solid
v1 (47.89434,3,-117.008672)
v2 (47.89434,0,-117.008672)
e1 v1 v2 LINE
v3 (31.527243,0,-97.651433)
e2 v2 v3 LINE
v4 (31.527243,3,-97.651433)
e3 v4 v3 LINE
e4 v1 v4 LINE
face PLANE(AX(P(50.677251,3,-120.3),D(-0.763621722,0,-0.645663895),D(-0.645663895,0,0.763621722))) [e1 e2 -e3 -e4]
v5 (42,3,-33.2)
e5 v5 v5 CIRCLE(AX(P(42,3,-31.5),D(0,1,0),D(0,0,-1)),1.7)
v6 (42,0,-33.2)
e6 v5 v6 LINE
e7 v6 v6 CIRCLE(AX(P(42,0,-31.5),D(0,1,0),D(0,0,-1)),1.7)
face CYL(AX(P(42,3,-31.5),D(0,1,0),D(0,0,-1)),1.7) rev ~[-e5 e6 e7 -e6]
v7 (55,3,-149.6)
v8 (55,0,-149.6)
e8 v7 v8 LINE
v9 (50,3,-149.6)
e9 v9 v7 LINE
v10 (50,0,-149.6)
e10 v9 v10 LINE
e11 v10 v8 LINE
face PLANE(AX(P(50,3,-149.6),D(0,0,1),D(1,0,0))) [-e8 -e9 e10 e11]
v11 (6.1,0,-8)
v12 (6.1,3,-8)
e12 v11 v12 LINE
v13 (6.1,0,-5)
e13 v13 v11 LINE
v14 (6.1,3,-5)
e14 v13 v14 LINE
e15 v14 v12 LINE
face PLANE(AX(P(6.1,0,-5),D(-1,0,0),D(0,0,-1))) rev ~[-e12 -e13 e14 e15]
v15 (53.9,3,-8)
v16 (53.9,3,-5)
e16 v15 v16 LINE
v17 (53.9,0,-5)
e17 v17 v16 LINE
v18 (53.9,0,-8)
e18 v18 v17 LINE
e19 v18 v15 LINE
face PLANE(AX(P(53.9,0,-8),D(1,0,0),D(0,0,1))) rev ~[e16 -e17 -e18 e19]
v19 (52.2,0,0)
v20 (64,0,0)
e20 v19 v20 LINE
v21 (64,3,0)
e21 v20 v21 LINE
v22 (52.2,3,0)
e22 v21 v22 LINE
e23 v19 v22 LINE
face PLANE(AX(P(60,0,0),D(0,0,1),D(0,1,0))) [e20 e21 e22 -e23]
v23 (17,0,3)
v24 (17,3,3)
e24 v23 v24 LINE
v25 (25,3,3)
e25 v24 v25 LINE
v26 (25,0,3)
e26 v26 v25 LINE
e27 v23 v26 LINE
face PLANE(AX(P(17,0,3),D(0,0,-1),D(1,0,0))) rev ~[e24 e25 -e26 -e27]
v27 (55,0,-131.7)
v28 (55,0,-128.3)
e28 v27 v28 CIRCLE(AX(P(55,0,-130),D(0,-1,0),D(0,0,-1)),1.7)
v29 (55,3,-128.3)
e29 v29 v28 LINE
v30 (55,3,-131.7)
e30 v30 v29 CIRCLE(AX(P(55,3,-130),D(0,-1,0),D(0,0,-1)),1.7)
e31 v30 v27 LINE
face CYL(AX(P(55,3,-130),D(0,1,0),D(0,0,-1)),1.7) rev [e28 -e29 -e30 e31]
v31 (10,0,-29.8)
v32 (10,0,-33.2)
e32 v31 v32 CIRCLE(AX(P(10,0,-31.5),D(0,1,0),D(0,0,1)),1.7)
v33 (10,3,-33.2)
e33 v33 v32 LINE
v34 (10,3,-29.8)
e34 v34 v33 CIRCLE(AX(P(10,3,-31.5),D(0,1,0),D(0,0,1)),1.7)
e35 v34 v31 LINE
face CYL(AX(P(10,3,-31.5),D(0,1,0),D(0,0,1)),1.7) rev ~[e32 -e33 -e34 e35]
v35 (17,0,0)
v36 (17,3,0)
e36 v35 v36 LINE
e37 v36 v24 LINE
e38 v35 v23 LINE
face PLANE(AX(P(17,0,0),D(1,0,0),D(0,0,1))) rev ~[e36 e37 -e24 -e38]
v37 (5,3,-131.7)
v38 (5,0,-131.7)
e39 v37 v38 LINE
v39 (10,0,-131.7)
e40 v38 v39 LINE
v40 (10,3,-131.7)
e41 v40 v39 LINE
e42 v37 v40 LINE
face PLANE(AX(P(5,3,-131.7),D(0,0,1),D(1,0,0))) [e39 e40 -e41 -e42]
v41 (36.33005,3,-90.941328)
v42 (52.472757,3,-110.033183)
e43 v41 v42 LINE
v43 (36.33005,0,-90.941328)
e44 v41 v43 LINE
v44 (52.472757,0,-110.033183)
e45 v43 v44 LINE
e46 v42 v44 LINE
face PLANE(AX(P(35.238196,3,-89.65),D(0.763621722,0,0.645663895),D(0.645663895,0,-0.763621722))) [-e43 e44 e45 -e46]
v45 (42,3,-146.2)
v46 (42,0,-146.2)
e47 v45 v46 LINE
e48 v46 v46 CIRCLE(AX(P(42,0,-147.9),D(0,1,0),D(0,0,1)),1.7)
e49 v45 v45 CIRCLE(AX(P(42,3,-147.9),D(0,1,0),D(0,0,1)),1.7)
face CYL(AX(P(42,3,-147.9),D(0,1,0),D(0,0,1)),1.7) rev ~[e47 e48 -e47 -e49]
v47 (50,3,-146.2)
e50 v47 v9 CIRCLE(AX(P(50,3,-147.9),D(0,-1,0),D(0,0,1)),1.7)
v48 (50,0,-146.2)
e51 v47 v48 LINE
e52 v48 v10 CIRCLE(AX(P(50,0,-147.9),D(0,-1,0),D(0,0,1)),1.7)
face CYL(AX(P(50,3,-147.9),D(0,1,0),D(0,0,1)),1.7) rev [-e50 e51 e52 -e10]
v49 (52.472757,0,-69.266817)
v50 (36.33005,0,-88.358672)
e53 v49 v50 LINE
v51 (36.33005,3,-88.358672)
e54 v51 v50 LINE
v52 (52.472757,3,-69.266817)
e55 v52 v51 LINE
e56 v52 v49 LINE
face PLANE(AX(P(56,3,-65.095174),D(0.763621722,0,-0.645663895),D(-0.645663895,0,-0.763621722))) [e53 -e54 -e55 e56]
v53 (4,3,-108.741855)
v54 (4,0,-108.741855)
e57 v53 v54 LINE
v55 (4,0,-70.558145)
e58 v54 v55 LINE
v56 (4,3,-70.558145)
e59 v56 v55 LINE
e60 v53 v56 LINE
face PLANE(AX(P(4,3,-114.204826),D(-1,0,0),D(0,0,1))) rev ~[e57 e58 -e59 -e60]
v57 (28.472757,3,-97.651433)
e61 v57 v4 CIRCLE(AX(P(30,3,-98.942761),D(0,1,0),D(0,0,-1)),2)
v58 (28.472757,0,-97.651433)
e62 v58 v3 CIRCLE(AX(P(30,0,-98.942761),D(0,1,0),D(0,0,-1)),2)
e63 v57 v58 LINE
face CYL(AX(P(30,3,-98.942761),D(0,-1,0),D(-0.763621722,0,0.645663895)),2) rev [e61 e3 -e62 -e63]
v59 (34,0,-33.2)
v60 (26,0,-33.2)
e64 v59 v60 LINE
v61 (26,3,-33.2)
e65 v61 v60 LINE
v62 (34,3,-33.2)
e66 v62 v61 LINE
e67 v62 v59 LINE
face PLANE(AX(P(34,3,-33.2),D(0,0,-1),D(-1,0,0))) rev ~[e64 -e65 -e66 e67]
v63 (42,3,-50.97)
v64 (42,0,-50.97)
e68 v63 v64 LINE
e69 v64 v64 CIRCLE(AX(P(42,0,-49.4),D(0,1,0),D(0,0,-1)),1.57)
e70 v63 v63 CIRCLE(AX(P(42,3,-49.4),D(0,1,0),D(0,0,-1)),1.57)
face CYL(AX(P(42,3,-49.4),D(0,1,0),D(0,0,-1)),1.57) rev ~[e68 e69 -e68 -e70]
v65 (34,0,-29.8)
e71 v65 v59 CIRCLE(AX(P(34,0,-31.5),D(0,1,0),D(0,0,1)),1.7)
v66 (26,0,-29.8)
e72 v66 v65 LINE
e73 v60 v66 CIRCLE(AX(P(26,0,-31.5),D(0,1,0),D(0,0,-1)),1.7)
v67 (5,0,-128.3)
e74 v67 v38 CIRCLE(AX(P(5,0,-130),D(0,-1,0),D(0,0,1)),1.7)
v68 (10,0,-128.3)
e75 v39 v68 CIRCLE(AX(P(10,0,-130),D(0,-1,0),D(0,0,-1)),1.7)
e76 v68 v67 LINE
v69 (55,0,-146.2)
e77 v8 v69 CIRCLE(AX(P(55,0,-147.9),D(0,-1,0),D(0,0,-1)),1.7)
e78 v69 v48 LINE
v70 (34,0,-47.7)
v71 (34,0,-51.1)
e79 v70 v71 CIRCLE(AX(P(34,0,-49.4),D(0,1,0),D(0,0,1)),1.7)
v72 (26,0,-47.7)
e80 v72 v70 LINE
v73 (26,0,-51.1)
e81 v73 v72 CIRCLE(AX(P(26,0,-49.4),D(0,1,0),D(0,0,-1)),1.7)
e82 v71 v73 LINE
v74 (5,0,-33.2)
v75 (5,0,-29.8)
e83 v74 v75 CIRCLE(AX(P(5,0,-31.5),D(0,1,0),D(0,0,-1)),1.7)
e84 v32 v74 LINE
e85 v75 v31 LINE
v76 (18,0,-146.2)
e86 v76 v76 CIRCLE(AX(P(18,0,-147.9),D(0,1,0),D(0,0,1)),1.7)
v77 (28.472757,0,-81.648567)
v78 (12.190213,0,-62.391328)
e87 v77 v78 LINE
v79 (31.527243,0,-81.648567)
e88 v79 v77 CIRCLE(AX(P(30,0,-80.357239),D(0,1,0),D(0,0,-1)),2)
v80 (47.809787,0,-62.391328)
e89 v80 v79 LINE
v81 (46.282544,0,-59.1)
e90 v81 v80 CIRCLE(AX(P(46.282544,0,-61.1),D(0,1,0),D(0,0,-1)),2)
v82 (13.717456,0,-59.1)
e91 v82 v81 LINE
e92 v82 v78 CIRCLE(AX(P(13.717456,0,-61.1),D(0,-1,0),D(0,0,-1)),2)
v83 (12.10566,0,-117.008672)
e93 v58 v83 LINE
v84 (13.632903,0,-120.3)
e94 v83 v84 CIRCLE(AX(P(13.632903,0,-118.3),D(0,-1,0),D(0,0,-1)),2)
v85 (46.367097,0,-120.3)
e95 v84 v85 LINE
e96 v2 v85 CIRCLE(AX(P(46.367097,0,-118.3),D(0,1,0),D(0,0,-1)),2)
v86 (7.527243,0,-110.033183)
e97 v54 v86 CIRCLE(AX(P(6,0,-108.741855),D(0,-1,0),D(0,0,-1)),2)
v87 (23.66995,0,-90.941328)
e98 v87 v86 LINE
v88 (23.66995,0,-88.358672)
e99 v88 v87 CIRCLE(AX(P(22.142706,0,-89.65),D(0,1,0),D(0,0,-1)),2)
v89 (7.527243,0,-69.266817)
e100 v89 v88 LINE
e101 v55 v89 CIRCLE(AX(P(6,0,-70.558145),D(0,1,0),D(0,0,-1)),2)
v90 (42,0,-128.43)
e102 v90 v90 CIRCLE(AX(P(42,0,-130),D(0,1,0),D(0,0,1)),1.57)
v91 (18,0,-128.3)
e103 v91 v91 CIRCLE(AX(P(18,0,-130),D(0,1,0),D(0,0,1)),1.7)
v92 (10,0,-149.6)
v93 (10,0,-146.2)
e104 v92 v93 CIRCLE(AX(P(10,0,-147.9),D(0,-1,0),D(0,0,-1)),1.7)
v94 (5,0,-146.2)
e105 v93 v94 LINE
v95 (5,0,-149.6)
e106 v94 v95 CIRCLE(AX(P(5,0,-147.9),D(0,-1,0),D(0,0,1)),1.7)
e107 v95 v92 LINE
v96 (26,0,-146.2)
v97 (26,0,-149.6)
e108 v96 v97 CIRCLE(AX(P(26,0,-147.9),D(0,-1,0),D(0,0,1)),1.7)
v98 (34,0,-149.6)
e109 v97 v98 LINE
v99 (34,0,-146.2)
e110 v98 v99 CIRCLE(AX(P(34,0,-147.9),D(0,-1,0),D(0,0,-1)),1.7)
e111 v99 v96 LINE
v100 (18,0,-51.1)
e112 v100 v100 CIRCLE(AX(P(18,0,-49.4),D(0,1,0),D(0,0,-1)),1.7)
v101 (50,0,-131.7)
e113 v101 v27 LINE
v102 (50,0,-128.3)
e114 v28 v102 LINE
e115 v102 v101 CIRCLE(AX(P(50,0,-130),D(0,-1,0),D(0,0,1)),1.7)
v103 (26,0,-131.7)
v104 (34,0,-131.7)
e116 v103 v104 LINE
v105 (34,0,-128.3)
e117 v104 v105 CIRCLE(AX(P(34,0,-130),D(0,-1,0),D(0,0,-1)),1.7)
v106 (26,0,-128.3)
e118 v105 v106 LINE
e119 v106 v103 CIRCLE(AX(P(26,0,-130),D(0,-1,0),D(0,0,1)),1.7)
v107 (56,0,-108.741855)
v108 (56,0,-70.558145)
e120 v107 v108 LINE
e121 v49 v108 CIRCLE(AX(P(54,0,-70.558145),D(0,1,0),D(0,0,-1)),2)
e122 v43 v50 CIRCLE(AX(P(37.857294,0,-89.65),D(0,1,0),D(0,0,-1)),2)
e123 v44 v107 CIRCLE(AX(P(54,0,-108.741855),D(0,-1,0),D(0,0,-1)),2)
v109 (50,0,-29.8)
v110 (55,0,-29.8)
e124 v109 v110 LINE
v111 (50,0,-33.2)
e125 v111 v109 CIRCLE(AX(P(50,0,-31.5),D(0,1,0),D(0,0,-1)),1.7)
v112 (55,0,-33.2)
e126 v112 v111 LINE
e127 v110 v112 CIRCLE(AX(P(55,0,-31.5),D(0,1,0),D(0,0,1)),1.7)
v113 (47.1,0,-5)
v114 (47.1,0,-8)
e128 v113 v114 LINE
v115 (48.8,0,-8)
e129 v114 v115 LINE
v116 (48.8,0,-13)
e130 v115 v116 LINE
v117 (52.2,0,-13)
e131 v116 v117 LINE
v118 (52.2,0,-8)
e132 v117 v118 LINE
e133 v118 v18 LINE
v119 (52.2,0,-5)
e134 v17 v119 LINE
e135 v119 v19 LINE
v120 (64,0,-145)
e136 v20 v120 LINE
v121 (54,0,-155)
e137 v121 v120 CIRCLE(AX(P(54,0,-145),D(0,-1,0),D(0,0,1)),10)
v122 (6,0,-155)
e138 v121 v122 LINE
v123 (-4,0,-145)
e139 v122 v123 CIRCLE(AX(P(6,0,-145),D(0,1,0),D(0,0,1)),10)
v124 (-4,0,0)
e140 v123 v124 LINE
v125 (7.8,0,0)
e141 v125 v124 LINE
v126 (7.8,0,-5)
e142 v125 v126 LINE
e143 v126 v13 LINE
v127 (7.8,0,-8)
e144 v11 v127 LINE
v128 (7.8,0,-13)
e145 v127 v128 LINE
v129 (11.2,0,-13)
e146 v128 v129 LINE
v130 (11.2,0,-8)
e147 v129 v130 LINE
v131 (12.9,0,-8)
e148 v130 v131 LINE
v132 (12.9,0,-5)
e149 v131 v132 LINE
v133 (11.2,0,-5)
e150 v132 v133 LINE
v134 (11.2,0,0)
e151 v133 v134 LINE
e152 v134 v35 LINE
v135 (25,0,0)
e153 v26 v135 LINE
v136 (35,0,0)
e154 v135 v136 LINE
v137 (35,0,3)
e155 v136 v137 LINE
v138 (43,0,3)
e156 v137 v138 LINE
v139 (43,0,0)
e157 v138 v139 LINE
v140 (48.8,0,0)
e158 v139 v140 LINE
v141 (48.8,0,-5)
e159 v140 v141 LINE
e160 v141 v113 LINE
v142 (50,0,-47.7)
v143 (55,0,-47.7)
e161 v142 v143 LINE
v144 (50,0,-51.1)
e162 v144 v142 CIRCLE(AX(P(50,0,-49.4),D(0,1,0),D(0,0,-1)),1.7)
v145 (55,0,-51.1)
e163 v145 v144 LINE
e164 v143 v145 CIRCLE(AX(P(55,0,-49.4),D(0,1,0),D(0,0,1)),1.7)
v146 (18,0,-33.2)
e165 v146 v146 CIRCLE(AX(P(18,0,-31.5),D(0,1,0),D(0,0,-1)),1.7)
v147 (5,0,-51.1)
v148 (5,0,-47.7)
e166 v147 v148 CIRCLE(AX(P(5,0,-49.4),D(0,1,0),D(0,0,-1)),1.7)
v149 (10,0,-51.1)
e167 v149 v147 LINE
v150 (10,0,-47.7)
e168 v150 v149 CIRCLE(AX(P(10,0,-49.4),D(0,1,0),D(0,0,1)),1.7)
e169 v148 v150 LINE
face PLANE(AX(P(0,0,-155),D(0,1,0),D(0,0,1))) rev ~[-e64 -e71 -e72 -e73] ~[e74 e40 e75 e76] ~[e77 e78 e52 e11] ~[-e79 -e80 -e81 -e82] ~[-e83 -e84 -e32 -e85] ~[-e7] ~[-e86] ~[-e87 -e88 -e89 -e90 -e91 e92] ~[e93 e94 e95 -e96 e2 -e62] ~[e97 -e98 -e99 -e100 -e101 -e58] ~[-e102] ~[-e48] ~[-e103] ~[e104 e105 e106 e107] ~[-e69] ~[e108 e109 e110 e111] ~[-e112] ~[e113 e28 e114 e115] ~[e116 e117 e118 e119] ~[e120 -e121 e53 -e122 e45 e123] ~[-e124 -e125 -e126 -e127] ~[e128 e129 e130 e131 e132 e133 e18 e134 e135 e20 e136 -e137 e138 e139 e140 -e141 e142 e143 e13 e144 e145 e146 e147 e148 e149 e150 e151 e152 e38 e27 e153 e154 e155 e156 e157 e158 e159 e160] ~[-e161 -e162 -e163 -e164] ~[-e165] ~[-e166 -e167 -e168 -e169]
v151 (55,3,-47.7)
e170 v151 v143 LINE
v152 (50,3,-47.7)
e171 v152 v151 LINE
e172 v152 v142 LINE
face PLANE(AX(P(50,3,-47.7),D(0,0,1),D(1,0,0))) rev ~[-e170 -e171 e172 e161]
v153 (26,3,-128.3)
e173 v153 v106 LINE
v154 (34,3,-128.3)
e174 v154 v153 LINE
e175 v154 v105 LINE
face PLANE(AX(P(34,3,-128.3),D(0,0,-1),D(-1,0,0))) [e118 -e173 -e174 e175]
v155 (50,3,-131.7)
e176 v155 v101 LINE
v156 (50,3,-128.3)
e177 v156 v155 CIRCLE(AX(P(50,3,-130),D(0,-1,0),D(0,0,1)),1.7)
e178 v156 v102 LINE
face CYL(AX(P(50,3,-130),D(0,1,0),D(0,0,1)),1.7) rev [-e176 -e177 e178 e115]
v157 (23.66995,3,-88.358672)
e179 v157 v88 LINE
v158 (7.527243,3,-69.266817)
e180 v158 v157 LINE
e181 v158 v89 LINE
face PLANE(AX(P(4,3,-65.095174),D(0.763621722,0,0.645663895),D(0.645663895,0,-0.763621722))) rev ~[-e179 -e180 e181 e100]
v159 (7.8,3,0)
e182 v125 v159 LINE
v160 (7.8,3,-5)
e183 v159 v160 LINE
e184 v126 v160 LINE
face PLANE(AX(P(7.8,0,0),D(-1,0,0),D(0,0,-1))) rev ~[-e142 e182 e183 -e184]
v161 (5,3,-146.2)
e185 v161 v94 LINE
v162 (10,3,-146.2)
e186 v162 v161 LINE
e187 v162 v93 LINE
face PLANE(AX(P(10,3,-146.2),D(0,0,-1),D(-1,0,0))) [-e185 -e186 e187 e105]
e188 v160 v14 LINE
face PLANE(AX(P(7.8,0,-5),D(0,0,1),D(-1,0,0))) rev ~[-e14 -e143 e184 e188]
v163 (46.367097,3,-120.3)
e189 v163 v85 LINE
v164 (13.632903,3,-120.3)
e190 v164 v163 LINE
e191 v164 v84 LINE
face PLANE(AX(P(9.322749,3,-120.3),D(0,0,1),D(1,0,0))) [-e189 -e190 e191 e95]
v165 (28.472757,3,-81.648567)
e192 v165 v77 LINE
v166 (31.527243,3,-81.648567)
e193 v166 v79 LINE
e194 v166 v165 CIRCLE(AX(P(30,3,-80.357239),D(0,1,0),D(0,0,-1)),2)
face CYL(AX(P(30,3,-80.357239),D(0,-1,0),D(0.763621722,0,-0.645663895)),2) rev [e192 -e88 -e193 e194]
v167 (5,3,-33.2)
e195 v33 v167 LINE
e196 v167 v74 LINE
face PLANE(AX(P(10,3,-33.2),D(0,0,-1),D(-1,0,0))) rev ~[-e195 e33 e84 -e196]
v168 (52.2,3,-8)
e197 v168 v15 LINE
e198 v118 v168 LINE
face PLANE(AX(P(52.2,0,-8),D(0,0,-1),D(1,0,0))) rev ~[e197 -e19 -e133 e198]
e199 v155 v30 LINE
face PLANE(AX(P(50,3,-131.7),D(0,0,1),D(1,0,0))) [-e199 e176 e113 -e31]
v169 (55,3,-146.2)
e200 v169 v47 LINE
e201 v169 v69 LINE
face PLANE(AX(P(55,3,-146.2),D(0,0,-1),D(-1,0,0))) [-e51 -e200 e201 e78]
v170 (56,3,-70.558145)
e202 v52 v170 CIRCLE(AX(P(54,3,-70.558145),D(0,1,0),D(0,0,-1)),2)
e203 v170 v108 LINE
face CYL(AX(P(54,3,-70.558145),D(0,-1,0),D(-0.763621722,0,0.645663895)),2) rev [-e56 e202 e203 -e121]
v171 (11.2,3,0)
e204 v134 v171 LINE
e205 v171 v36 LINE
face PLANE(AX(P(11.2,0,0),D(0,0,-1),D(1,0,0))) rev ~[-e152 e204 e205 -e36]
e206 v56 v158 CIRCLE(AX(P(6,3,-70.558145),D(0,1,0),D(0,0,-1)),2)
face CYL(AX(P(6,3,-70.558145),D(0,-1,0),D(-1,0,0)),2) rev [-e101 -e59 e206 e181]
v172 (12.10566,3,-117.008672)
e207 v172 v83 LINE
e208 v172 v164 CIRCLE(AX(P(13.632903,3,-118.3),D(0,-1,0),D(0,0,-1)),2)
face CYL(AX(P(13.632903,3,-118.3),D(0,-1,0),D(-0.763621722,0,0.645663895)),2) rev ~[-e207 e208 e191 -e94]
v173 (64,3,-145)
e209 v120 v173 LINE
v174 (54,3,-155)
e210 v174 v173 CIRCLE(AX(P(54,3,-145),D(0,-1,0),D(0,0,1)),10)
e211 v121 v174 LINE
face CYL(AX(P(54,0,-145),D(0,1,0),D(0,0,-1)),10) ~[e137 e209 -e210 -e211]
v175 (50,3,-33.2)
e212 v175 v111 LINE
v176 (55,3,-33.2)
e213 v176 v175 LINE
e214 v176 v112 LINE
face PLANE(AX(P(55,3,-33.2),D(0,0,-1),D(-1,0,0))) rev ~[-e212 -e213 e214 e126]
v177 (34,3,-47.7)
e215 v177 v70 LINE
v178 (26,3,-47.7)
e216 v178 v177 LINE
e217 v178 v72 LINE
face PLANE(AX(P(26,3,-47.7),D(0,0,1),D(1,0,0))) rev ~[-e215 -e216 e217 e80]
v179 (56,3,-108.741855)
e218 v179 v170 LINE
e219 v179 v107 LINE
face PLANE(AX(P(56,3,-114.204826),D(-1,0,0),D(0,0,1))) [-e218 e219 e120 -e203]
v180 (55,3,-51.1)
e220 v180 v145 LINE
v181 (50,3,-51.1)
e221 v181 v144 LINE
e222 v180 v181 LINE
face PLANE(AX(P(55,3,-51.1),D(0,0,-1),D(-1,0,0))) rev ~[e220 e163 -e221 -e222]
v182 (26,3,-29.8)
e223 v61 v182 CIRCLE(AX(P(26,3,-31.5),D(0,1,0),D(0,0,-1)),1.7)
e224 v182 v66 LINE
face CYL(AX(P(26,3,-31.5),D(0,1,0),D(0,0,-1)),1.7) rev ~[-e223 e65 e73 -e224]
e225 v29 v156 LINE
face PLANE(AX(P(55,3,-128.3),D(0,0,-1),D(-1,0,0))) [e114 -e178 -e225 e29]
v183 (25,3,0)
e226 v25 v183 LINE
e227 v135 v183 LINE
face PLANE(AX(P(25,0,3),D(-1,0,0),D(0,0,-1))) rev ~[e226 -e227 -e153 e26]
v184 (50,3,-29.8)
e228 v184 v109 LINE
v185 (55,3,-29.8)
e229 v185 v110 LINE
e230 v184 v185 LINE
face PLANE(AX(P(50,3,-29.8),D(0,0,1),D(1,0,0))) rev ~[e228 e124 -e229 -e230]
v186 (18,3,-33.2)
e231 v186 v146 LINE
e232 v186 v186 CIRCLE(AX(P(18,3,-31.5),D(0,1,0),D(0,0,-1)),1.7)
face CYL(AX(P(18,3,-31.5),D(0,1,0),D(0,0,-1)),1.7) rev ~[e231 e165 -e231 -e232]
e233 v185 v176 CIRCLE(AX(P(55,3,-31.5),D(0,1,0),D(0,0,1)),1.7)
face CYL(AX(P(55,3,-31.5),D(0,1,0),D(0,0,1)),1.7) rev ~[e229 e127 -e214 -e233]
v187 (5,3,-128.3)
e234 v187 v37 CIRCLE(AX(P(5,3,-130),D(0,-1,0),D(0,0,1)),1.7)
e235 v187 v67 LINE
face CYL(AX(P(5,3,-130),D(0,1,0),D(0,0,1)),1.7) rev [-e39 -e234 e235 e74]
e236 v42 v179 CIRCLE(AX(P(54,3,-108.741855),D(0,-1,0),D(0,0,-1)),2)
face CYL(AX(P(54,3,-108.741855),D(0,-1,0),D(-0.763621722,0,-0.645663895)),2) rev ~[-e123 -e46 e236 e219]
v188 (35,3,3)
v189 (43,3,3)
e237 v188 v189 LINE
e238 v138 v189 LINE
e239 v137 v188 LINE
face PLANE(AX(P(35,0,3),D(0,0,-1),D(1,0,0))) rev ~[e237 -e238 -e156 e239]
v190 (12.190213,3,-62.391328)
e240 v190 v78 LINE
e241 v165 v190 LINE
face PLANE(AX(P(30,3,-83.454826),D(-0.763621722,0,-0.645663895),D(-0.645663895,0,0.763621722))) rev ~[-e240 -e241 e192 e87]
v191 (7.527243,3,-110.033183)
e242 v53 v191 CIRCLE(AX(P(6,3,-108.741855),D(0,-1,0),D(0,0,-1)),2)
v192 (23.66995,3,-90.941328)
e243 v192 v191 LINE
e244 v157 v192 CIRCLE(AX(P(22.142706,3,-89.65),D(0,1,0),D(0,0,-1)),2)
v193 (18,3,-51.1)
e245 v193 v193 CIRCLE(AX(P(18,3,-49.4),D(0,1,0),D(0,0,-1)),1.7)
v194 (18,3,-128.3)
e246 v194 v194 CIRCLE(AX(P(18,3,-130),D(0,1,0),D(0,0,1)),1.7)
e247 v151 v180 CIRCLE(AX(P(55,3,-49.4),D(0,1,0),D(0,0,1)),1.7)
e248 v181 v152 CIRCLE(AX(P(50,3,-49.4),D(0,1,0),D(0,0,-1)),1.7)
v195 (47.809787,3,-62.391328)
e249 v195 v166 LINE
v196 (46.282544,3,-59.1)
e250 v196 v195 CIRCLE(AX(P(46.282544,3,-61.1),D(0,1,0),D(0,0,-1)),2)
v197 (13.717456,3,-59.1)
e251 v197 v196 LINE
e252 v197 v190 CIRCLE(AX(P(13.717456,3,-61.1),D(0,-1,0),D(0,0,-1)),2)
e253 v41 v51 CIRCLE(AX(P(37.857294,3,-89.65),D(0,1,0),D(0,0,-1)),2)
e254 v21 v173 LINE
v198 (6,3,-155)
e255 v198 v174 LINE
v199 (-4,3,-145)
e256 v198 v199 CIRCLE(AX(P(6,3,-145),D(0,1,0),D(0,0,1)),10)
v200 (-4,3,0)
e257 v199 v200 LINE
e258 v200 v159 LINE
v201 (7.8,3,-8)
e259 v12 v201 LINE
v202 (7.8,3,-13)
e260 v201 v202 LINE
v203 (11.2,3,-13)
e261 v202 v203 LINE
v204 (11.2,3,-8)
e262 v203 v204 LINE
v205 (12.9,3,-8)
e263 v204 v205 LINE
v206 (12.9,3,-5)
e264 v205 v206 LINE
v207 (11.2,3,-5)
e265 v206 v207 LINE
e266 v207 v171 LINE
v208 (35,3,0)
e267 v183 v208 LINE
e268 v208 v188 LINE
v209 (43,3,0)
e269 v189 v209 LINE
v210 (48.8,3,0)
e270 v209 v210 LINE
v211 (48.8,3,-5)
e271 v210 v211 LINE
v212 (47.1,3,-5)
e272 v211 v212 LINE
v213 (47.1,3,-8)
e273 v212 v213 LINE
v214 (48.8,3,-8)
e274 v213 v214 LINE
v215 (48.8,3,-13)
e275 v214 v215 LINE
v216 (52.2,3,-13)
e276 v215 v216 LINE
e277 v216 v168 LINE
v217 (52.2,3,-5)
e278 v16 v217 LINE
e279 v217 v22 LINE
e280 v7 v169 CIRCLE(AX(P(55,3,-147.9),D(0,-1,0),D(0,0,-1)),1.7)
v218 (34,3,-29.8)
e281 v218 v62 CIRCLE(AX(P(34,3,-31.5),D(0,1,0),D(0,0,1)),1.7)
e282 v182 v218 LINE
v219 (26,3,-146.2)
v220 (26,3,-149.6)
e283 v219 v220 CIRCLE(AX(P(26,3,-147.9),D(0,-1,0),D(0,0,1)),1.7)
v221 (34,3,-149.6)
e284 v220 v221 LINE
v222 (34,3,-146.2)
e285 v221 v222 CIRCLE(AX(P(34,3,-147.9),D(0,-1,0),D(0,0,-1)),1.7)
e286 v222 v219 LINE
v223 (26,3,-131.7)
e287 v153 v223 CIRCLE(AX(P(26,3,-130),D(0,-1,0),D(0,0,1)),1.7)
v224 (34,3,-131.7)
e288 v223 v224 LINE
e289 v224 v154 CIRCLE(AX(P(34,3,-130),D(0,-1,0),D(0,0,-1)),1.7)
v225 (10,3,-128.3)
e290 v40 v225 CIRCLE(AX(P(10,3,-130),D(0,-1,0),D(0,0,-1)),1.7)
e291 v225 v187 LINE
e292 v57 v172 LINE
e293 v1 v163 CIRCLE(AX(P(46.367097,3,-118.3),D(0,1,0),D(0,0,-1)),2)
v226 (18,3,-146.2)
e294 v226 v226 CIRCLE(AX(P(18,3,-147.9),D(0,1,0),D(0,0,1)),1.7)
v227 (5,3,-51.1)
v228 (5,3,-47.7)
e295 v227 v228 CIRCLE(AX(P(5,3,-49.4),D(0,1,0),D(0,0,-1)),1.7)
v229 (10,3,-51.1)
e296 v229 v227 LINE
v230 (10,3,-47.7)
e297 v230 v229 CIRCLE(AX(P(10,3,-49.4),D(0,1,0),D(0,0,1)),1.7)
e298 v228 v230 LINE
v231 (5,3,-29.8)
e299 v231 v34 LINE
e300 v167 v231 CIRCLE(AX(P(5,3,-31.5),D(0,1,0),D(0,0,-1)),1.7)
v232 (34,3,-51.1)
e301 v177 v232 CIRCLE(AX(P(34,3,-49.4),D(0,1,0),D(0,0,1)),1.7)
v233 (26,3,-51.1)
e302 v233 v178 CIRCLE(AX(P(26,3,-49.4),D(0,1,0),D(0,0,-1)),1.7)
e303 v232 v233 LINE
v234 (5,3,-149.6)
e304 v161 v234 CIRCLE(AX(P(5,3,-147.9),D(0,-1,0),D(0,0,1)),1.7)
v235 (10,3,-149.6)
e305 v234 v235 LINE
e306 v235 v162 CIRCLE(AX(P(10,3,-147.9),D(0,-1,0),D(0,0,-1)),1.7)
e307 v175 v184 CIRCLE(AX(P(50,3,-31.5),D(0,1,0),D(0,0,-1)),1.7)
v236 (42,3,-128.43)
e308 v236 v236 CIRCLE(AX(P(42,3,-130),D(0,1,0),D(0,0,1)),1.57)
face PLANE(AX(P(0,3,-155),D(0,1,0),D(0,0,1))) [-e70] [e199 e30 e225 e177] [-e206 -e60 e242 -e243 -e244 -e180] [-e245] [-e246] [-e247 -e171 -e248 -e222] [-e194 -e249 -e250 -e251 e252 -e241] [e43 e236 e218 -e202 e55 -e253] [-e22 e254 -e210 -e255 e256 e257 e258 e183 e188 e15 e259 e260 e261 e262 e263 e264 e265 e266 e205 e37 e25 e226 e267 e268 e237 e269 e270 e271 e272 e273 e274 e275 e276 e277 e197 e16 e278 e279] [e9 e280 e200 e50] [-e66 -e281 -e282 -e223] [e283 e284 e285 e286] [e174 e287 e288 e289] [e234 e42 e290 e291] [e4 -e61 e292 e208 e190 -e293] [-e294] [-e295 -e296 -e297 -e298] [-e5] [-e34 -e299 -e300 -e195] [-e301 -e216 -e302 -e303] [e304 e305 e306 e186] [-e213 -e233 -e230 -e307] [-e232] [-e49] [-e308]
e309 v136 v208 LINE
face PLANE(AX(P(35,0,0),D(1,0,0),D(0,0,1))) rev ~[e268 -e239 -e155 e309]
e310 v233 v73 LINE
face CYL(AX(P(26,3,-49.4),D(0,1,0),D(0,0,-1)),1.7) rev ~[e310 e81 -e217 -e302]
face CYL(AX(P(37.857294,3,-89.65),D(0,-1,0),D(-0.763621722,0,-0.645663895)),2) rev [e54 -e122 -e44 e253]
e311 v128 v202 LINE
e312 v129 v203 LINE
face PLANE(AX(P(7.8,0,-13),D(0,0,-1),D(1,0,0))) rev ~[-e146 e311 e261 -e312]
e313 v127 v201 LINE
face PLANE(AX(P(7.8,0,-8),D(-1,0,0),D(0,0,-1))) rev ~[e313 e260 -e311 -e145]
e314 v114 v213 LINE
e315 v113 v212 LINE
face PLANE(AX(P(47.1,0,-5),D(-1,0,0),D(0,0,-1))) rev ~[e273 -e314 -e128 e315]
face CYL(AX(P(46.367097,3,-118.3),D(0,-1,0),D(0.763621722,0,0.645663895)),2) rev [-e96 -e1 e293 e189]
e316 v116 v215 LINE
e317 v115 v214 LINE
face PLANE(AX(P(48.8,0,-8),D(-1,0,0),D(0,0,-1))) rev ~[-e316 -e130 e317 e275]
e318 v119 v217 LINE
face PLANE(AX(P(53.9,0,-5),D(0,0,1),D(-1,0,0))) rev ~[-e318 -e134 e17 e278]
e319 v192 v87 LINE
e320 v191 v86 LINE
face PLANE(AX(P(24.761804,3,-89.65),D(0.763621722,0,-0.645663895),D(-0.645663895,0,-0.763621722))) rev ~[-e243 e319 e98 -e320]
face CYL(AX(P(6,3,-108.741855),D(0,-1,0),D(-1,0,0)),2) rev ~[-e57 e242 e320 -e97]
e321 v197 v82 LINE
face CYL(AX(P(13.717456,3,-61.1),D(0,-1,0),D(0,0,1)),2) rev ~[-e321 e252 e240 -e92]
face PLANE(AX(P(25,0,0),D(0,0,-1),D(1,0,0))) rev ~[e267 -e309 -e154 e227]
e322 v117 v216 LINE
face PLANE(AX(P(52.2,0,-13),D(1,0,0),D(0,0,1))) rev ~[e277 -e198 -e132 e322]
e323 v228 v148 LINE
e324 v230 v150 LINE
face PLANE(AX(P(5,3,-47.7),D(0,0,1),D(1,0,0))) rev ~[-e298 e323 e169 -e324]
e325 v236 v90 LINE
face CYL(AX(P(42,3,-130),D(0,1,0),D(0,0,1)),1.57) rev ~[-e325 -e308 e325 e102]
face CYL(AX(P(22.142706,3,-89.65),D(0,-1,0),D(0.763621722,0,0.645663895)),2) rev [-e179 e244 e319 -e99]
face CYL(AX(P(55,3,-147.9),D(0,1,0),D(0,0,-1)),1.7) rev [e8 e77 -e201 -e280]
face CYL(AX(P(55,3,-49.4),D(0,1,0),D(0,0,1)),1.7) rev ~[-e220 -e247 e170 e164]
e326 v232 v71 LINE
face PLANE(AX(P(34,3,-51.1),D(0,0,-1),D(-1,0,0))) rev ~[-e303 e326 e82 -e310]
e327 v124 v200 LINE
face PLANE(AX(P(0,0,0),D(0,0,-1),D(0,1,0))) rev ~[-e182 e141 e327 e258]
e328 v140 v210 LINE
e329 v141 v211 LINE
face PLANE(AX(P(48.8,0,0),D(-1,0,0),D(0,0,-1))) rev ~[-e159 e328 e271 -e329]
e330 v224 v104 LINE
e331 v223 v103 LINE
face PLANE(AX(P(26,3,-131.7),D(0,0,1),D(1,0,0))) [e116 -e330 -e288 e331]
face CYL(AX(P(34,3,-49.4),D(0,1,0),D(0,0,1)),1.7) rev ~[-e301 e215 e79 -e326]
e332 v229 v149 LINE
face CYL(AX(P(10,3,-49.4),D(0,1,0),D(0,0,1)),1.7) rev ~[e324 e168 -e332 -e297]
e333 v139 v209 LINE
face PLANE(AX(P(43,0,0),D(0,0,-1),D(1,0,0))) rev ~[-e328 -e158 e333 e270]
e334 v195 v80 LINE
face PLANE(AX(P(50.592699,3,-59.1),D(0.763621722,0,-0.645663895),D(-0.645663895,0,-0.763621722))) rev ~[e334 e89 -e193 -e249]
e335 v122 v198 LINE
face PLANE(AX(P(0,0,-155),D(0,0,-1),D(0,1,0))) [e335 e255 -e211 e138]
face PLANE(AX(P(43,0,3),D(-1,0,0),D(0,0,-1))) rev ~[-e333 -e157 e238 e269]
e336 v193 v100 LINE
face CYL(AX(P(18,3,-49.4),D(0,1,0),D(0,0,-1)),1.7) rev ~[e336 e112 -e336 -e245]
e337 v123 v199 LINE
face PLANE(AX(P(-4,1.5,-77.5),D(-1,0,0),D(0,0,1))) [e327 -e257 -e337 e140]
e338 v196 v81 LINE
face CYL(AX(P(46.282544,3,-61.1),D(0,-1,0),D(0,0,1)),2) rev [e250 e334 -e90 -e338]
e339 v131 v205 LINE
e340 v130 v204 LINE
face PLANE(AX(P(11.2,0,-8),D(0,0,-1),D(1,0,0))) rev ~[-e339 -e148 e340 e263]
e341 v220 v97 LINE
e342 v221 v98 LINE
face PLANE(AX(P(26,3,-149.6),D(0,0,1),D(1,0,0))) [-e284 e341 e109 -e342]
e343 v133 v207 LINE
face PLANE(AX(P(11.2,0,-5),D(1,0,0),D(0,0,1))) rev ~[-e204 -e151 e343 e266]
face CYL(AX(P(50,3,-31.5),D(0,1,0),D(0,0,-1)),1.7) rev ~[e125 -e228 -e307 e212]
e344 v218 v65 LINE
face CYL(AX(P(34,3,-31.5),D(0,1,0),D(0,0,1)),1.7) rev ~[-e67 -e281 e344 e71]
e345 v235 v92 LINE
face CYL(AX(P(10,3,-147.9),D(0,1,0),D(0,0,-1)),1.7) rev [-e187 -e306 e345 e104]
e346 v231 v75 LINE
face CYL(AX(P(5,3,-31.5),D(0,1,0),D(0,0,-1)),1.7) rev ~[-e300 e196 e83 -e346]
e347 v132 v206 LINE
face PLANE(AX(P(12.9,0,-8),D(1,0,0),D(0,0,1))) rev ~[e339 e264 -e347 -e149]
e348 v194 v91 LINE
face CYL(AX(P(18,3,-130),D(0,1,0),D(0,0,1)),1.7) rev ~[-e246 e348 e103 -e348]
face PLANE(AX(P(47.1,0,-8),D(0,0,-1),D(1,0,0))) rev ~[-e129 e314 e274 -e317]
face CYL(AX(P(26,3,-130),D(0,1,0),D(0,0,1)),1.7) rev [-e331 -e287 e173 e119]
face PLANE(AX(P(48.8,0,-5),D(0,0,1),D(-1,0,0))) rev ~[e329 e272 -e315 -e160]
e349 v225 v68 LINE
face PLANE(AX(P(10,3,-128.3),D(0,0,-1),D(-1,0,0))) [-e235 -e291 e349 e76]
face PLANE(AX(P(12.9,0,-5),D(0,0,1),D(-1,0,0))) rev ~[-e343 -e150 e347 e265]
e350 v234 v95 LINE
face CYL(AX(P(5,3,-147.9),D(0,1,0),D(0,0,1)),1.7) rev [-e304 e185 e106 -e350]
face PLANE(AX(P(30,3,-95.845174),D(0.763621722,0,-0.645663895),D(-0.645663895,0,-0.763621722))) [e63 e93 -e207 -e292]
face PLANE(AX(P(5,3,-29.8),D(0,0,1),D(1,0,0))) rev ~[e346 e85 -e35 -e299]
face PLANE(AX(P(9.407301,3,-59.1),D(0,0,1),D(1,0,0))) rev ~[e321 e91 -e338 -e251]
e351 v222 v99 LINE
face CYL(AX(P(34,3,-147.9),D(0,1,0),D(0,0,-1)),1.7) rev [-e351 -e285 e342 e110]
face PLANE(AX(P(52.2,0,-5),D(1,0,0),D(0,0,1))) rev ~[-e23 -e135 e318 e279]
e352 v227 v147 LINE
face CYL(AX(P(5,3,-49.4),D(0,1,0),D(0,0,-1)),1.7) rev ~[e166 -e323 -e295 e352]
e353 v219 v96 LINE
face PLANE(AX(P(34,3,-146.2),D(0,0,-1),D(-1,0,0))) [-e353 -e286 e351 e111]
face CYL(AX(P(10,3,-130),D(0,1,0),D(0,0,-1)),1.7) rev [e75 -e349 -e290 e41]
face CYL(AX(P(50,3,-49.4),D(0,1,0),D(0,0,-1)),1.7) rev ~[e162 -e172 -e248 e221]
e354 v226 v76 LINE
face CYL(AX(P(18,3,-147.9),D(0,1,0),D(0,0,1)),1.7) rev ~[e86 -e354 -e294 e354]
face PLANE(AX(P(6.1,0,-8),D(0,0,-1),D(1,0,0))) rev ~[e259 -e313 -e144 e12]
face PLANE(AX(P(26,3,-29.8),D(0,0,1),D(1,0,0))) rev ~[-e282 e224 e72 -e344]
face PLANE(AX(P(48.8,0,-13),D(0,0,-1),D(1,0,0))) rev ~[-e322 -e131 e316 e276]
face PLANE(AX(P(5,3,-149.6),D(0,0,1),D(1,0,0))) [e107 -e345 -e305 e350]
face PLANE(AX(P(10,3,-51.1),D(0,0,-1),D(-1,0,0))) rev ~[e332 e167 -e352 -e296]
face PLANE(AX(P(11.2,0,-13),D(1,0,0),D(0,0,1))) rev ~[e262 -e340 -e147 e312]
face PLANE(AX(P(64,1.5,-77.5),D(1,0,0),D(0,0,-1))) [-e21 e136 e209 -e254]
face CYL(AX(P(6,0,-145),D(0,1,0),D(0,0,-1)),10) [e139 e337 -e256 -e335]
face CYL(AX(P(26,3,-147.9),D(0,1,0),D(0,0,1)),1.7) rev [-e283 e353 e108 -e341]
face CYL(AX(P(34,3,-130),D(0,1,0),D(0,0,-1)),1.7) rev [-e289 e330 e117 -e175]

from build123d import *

# Parameters (mm, degrees)
EXTRUDE_1_DEPTH     = 3
SKETCH_2_R          = 1.7
SKETCH_2_R_2        = 1.57
CUT_EXTRUDE_1_DEPTH = 3
SKETCH_3_W          = 60
SKETCH_3_H          = 3
EXTRUDE_2_DEPTH     = 5
SKETCH_6_W          = 155
SKETCH_6_H          = 3
EXTRUDE_3_DEPTH     = 4
SKETCH_7_W          = 155
SKETCH_7_H          = 3
EXTRUDE_4_DEPTH     = 4
FILLET_1_R          = 10
CUT_EXTRUDE_3_DEPTH = 4
FILLET_3_R          = 2


with BuildPart() as part:
    # 草图1 → 凸台-拉伸1 (new body)
    with BuildSketch(Plane(origin=(0, 0, 0), x_dir=(1, 0, 0), z_dir=(0, 1, 0))):
        Polygon((0, 0), (7.8, 0), (7.8, 5), (6.1, 5), (6.1, 8), (7.8, 8), (7.8, 13), (11.2, 13), (11.2, 8), (12.9, 8), (12.9, 5), (11.2, 5), (11.2, 0), (17, 0), (17, -3), (25, -3), (25, 0), (31.7, 0), (35, 0), (35, -3), (43, -3), (43, 0), (48.8, 0), (48.8, 5), (47.1, 5), (47.1, 8), (48.8, 8), (48.8, 13), (52.2, 13), (52.2, 8), (53.9, 8), (53.9, 5), (52.2, 5), (52.2, 0), (60, 0), (60, 150), (0, 150), align=None)
    extrude(amount=EXTRUDE_1_DEPTH)

    # 草图2 → 切除-拉伸1 (cut)
    with BuildSketch(Plane(origin=(0, 3, 0), x_dir=(1, 0, 0), z_dir=(0, 1, 0))):
        with Locations(Location((18, 130, 0), (0, 0, 270))):
            Circle(SKETCH_2_R)
        with Locations(Location((42, 130, 0), (0, 0, 270))):
            Circle(SKETCH_2_R_2)
        with Locations(Location((18, 147.9, 0), (0, 0, 270))):
            Circle(SKETCH_2_R)
        with Locations(Location((42, 147.9, 0), (0, 0, 270))):
            Circle(SKETCH_2_R)
        with Locations(Location((42, 31.5, 0), (0, 0, 90))):
            Circle(SKETCH_2_R)
        with Locations(Location((18, 31.5, 0), (0, 0, 90))):
            Circle(SKETCH_2_R)
        with Locations(Location((42, 49.4, 0), (0, 0, 90))):
            Circle(SKETCH_2_R_2)
        with Locations(Location((18, 49.4, 0), (0, 0, 90))):
            Circle(SKETCH_2_R)
        with BuildLine():
            Line((5, 131.7), (10, 131.7))
            ThreePointArc((10, 131.7), (11.7, 130), (10, 128.3))
            Line((10, 128.3), (5, 128.3))
            ThreePointArc((5, 128.3), (3.3, 130), (5, 131.7))
        make_face()
        with BuildLine():
            Line((26, 131.7), (34, 131.7))
            ThreePointArc((34, 131.7), (35.7, 130), (34, 128.3))
            Line((34, 128.3), (26, 128.3))
            ThreePointArc((26, 128.3), (24.3, 130), (26, 131.7))
        make_face()
        with BuildLine():
            Line((50, 131.7), (55, 131.7))
            ThreePointArc((55, 131.7), (56.7, 130), (55, 128.3))
            Line((55, 128.3), (50, 128.3))
            ThreePointArc((50, 128.3), (48.3, 130), (50, 131.7))
        make_face()
        with BuildLine():
            Line((5, 149.6), (10, 149.6))
            ThreePointArc((10, 149.6), (11.7, 147.9), (10, 146.2))
            Line((10, 146.2), (5, 146.2))
            ThreePointArc((5, 146.2), (3.3, 147.9), (5, 149.6))
        make_face()
        with BuildLine():
            Line((26, 149.6), (34, 149.6))
            ThreePointArc((34, 149.6), (35.7, 147.9), (34, 146.2))
            Line((34, 146.2), (26, 146.2))
            ThreePointArc((26, 146.2), (24.3, 147.9), (26, 149.6))
        make_face()
        with BuildLine():
            Line((50, 149.6), (55, 149.6))
            ThreePointArc((55, 149.6), (56.7, 147.9), (55, 146.2))
            Line((55, 146.2), (50, 146.2))
            ThreePointArc((50, 146.2), (48.3, 147.9), (50, 149.6))
        make_face()
        with BuildLine():
            Line((5, 47.7), (10, 47.7))
            ThreePointArc((10, 47.7), (11.7, 49.4), (10, 51.1))
            Line((10, 51.1), (5, 51.1))
            ThreePointArc((5, 51.1), (3.3, 49.4), (5, 47.7))
        make_face()
        with BuildLine():
            Line((26, 47.7), (34, 47.7))
            ThreePointArc((34, 47.7), (35.7, 49.4), (34, 51.1))
            Line((34, 51.1), (26, 51.1))
            ThreePointArc((26, 51.1), (24.3, 49.4), (26, 47.7))
        make_face()
        with BuildLine():
            Line((50, 47.7), (55, 47.7))
            ThreePointArc((55, 47.7), (56.7, 49.4), (55, 51.1))
            Line((55, 51.1), (50, 51.1))
            ThreePointArc((50, 51.1), (48.3, 49.4), (50, 47.7))
        make_face()
        with BuildLine():
            Line((5, 29.8), (10, 29.8))
            ThreePointArc((10, 29.8), (11.7, 31.5), (10, 33.2))
            Line((10, 33.2), (5, 33.2))
            ThreePointArc((5, 33.2), (3.3, 31.5), (5, 29.8))
        make_face()
        with BuildLine():
            Line((26, 29.8), (34, 29.8))
            ThreePointArc((34, 29.8), (35.7, 31.5), (34, 33.2))
            Line((34, 33.2), (26, 33.2))
            ThreePointArc((26, 33.2), (24.3, 31.5), (26, 29.8))
        make_face()
        with BuildLine():
            Line((50, 29.8), (55, 29.8))
            ThreePointArc((55, 29.8), (56.7, 31.5), (55, 33.2))
            Line((55, 33.2), (50, 33.2))
            ThreePointArc((50, 33.2), (48.3, 31.5), (50, 29.8))
        make_face()
    extrude(amount=-CUT_EXTRUDE_1_DEPTH, mode=Mode.SUBTRACT)

    # 草图3 → 凸台-拉伸2 (add)
    with BuildSketch(Plane(origin=(0, 0, -150), x_dir=(-1, 0, 0), z_dir=(0, 0, -1))):
        with Locations((-30, 1.5)):
            Rectangle(SKETCH_3_W, SKETCH_3_H)
    extrude(amount=EXTRUDE_2_DEPTH)

    # 草图6 → 凸台-拉伸3 (add)
    with BuildSketch(Plane(origin=(60, 0, 0), x_dir=(0, 0, -1), z_dir=(1, 0, 0))):
        with Locations((77.5, 1.5)):
            Rectangle(SKETCH_6_W, SKETCH_6_H)
    extrude(amount=EXTRUDE_3_DEPTH)

    # 草图7 → 凸台-拉伸4 (add)
    with BuildSketch(Plane.ZY):
        with Locations((-77.5, 1.5)):
            Rectangle(SKETCH_7_W, SKETCH_7_H)
    extrude(amount=EXTRUDE_4_DEPTH)

    # 圆角1
    fillet_1_edges = [part.edges().sort_by_distance(p)[0] for p in [
        (64, 1.5, -155),
        (-4, 1.5, -155),
    ]]
    fillet(fillet_1_edges, radius=FILLET_1_R)

    # 草图9 → 切除-拉伸3 (cut)
    with BuildSketch(Plane(origin=(0, 3, 0), x_dir=(1, 0, 0), z_dir=(0, 1, 0))):
        Polygon((9.322748518, 120.3), (50.677251482, 120.3), (30, 95.845173728), align=None)
        Polygon((4, 114.204826272), (4, 65.095173728), (24.761804328, 89.65), align=None)
        Polygon((9.407301363, 59.1), (50.592698637, 59.1), (30, 83.454826272), align=None)
        Polygon((56, 114.204826272), (56, 65.095173728), (35.238195672, 89.65), align=None)
    extrude(amount=-CUT_EXTRUDE_3_DEPTH, mode=Mode.SUBTRACT)

    # 圆角3
    fillet_3_edges = [part.edges().sort_by_distance(p)[0] for p in [
        (30, 1.5, -83.454826272),
        (50.592698637, 1.5, -59.1),
        (9.407301363, 1.5, -59.1),
        (56, 1.5, -65.095173728),
        (35.238195672, 1.5, -89.65),
        (56, 1.5, -114.204826272),
        (4, 1.5, -114.204826272),
        (24.761804328, 1.5, -89.65),
        (4, 1.5, -65.095173728),
        (50.677251482, 1.5, -120.3),
        (30, 1.5, -95.845173728),
        (9.322748518, 1.5, -120.3),
    ]]
    fillet(fillet_3_edges, radius=FILLET_3_R)


solid = part.part
